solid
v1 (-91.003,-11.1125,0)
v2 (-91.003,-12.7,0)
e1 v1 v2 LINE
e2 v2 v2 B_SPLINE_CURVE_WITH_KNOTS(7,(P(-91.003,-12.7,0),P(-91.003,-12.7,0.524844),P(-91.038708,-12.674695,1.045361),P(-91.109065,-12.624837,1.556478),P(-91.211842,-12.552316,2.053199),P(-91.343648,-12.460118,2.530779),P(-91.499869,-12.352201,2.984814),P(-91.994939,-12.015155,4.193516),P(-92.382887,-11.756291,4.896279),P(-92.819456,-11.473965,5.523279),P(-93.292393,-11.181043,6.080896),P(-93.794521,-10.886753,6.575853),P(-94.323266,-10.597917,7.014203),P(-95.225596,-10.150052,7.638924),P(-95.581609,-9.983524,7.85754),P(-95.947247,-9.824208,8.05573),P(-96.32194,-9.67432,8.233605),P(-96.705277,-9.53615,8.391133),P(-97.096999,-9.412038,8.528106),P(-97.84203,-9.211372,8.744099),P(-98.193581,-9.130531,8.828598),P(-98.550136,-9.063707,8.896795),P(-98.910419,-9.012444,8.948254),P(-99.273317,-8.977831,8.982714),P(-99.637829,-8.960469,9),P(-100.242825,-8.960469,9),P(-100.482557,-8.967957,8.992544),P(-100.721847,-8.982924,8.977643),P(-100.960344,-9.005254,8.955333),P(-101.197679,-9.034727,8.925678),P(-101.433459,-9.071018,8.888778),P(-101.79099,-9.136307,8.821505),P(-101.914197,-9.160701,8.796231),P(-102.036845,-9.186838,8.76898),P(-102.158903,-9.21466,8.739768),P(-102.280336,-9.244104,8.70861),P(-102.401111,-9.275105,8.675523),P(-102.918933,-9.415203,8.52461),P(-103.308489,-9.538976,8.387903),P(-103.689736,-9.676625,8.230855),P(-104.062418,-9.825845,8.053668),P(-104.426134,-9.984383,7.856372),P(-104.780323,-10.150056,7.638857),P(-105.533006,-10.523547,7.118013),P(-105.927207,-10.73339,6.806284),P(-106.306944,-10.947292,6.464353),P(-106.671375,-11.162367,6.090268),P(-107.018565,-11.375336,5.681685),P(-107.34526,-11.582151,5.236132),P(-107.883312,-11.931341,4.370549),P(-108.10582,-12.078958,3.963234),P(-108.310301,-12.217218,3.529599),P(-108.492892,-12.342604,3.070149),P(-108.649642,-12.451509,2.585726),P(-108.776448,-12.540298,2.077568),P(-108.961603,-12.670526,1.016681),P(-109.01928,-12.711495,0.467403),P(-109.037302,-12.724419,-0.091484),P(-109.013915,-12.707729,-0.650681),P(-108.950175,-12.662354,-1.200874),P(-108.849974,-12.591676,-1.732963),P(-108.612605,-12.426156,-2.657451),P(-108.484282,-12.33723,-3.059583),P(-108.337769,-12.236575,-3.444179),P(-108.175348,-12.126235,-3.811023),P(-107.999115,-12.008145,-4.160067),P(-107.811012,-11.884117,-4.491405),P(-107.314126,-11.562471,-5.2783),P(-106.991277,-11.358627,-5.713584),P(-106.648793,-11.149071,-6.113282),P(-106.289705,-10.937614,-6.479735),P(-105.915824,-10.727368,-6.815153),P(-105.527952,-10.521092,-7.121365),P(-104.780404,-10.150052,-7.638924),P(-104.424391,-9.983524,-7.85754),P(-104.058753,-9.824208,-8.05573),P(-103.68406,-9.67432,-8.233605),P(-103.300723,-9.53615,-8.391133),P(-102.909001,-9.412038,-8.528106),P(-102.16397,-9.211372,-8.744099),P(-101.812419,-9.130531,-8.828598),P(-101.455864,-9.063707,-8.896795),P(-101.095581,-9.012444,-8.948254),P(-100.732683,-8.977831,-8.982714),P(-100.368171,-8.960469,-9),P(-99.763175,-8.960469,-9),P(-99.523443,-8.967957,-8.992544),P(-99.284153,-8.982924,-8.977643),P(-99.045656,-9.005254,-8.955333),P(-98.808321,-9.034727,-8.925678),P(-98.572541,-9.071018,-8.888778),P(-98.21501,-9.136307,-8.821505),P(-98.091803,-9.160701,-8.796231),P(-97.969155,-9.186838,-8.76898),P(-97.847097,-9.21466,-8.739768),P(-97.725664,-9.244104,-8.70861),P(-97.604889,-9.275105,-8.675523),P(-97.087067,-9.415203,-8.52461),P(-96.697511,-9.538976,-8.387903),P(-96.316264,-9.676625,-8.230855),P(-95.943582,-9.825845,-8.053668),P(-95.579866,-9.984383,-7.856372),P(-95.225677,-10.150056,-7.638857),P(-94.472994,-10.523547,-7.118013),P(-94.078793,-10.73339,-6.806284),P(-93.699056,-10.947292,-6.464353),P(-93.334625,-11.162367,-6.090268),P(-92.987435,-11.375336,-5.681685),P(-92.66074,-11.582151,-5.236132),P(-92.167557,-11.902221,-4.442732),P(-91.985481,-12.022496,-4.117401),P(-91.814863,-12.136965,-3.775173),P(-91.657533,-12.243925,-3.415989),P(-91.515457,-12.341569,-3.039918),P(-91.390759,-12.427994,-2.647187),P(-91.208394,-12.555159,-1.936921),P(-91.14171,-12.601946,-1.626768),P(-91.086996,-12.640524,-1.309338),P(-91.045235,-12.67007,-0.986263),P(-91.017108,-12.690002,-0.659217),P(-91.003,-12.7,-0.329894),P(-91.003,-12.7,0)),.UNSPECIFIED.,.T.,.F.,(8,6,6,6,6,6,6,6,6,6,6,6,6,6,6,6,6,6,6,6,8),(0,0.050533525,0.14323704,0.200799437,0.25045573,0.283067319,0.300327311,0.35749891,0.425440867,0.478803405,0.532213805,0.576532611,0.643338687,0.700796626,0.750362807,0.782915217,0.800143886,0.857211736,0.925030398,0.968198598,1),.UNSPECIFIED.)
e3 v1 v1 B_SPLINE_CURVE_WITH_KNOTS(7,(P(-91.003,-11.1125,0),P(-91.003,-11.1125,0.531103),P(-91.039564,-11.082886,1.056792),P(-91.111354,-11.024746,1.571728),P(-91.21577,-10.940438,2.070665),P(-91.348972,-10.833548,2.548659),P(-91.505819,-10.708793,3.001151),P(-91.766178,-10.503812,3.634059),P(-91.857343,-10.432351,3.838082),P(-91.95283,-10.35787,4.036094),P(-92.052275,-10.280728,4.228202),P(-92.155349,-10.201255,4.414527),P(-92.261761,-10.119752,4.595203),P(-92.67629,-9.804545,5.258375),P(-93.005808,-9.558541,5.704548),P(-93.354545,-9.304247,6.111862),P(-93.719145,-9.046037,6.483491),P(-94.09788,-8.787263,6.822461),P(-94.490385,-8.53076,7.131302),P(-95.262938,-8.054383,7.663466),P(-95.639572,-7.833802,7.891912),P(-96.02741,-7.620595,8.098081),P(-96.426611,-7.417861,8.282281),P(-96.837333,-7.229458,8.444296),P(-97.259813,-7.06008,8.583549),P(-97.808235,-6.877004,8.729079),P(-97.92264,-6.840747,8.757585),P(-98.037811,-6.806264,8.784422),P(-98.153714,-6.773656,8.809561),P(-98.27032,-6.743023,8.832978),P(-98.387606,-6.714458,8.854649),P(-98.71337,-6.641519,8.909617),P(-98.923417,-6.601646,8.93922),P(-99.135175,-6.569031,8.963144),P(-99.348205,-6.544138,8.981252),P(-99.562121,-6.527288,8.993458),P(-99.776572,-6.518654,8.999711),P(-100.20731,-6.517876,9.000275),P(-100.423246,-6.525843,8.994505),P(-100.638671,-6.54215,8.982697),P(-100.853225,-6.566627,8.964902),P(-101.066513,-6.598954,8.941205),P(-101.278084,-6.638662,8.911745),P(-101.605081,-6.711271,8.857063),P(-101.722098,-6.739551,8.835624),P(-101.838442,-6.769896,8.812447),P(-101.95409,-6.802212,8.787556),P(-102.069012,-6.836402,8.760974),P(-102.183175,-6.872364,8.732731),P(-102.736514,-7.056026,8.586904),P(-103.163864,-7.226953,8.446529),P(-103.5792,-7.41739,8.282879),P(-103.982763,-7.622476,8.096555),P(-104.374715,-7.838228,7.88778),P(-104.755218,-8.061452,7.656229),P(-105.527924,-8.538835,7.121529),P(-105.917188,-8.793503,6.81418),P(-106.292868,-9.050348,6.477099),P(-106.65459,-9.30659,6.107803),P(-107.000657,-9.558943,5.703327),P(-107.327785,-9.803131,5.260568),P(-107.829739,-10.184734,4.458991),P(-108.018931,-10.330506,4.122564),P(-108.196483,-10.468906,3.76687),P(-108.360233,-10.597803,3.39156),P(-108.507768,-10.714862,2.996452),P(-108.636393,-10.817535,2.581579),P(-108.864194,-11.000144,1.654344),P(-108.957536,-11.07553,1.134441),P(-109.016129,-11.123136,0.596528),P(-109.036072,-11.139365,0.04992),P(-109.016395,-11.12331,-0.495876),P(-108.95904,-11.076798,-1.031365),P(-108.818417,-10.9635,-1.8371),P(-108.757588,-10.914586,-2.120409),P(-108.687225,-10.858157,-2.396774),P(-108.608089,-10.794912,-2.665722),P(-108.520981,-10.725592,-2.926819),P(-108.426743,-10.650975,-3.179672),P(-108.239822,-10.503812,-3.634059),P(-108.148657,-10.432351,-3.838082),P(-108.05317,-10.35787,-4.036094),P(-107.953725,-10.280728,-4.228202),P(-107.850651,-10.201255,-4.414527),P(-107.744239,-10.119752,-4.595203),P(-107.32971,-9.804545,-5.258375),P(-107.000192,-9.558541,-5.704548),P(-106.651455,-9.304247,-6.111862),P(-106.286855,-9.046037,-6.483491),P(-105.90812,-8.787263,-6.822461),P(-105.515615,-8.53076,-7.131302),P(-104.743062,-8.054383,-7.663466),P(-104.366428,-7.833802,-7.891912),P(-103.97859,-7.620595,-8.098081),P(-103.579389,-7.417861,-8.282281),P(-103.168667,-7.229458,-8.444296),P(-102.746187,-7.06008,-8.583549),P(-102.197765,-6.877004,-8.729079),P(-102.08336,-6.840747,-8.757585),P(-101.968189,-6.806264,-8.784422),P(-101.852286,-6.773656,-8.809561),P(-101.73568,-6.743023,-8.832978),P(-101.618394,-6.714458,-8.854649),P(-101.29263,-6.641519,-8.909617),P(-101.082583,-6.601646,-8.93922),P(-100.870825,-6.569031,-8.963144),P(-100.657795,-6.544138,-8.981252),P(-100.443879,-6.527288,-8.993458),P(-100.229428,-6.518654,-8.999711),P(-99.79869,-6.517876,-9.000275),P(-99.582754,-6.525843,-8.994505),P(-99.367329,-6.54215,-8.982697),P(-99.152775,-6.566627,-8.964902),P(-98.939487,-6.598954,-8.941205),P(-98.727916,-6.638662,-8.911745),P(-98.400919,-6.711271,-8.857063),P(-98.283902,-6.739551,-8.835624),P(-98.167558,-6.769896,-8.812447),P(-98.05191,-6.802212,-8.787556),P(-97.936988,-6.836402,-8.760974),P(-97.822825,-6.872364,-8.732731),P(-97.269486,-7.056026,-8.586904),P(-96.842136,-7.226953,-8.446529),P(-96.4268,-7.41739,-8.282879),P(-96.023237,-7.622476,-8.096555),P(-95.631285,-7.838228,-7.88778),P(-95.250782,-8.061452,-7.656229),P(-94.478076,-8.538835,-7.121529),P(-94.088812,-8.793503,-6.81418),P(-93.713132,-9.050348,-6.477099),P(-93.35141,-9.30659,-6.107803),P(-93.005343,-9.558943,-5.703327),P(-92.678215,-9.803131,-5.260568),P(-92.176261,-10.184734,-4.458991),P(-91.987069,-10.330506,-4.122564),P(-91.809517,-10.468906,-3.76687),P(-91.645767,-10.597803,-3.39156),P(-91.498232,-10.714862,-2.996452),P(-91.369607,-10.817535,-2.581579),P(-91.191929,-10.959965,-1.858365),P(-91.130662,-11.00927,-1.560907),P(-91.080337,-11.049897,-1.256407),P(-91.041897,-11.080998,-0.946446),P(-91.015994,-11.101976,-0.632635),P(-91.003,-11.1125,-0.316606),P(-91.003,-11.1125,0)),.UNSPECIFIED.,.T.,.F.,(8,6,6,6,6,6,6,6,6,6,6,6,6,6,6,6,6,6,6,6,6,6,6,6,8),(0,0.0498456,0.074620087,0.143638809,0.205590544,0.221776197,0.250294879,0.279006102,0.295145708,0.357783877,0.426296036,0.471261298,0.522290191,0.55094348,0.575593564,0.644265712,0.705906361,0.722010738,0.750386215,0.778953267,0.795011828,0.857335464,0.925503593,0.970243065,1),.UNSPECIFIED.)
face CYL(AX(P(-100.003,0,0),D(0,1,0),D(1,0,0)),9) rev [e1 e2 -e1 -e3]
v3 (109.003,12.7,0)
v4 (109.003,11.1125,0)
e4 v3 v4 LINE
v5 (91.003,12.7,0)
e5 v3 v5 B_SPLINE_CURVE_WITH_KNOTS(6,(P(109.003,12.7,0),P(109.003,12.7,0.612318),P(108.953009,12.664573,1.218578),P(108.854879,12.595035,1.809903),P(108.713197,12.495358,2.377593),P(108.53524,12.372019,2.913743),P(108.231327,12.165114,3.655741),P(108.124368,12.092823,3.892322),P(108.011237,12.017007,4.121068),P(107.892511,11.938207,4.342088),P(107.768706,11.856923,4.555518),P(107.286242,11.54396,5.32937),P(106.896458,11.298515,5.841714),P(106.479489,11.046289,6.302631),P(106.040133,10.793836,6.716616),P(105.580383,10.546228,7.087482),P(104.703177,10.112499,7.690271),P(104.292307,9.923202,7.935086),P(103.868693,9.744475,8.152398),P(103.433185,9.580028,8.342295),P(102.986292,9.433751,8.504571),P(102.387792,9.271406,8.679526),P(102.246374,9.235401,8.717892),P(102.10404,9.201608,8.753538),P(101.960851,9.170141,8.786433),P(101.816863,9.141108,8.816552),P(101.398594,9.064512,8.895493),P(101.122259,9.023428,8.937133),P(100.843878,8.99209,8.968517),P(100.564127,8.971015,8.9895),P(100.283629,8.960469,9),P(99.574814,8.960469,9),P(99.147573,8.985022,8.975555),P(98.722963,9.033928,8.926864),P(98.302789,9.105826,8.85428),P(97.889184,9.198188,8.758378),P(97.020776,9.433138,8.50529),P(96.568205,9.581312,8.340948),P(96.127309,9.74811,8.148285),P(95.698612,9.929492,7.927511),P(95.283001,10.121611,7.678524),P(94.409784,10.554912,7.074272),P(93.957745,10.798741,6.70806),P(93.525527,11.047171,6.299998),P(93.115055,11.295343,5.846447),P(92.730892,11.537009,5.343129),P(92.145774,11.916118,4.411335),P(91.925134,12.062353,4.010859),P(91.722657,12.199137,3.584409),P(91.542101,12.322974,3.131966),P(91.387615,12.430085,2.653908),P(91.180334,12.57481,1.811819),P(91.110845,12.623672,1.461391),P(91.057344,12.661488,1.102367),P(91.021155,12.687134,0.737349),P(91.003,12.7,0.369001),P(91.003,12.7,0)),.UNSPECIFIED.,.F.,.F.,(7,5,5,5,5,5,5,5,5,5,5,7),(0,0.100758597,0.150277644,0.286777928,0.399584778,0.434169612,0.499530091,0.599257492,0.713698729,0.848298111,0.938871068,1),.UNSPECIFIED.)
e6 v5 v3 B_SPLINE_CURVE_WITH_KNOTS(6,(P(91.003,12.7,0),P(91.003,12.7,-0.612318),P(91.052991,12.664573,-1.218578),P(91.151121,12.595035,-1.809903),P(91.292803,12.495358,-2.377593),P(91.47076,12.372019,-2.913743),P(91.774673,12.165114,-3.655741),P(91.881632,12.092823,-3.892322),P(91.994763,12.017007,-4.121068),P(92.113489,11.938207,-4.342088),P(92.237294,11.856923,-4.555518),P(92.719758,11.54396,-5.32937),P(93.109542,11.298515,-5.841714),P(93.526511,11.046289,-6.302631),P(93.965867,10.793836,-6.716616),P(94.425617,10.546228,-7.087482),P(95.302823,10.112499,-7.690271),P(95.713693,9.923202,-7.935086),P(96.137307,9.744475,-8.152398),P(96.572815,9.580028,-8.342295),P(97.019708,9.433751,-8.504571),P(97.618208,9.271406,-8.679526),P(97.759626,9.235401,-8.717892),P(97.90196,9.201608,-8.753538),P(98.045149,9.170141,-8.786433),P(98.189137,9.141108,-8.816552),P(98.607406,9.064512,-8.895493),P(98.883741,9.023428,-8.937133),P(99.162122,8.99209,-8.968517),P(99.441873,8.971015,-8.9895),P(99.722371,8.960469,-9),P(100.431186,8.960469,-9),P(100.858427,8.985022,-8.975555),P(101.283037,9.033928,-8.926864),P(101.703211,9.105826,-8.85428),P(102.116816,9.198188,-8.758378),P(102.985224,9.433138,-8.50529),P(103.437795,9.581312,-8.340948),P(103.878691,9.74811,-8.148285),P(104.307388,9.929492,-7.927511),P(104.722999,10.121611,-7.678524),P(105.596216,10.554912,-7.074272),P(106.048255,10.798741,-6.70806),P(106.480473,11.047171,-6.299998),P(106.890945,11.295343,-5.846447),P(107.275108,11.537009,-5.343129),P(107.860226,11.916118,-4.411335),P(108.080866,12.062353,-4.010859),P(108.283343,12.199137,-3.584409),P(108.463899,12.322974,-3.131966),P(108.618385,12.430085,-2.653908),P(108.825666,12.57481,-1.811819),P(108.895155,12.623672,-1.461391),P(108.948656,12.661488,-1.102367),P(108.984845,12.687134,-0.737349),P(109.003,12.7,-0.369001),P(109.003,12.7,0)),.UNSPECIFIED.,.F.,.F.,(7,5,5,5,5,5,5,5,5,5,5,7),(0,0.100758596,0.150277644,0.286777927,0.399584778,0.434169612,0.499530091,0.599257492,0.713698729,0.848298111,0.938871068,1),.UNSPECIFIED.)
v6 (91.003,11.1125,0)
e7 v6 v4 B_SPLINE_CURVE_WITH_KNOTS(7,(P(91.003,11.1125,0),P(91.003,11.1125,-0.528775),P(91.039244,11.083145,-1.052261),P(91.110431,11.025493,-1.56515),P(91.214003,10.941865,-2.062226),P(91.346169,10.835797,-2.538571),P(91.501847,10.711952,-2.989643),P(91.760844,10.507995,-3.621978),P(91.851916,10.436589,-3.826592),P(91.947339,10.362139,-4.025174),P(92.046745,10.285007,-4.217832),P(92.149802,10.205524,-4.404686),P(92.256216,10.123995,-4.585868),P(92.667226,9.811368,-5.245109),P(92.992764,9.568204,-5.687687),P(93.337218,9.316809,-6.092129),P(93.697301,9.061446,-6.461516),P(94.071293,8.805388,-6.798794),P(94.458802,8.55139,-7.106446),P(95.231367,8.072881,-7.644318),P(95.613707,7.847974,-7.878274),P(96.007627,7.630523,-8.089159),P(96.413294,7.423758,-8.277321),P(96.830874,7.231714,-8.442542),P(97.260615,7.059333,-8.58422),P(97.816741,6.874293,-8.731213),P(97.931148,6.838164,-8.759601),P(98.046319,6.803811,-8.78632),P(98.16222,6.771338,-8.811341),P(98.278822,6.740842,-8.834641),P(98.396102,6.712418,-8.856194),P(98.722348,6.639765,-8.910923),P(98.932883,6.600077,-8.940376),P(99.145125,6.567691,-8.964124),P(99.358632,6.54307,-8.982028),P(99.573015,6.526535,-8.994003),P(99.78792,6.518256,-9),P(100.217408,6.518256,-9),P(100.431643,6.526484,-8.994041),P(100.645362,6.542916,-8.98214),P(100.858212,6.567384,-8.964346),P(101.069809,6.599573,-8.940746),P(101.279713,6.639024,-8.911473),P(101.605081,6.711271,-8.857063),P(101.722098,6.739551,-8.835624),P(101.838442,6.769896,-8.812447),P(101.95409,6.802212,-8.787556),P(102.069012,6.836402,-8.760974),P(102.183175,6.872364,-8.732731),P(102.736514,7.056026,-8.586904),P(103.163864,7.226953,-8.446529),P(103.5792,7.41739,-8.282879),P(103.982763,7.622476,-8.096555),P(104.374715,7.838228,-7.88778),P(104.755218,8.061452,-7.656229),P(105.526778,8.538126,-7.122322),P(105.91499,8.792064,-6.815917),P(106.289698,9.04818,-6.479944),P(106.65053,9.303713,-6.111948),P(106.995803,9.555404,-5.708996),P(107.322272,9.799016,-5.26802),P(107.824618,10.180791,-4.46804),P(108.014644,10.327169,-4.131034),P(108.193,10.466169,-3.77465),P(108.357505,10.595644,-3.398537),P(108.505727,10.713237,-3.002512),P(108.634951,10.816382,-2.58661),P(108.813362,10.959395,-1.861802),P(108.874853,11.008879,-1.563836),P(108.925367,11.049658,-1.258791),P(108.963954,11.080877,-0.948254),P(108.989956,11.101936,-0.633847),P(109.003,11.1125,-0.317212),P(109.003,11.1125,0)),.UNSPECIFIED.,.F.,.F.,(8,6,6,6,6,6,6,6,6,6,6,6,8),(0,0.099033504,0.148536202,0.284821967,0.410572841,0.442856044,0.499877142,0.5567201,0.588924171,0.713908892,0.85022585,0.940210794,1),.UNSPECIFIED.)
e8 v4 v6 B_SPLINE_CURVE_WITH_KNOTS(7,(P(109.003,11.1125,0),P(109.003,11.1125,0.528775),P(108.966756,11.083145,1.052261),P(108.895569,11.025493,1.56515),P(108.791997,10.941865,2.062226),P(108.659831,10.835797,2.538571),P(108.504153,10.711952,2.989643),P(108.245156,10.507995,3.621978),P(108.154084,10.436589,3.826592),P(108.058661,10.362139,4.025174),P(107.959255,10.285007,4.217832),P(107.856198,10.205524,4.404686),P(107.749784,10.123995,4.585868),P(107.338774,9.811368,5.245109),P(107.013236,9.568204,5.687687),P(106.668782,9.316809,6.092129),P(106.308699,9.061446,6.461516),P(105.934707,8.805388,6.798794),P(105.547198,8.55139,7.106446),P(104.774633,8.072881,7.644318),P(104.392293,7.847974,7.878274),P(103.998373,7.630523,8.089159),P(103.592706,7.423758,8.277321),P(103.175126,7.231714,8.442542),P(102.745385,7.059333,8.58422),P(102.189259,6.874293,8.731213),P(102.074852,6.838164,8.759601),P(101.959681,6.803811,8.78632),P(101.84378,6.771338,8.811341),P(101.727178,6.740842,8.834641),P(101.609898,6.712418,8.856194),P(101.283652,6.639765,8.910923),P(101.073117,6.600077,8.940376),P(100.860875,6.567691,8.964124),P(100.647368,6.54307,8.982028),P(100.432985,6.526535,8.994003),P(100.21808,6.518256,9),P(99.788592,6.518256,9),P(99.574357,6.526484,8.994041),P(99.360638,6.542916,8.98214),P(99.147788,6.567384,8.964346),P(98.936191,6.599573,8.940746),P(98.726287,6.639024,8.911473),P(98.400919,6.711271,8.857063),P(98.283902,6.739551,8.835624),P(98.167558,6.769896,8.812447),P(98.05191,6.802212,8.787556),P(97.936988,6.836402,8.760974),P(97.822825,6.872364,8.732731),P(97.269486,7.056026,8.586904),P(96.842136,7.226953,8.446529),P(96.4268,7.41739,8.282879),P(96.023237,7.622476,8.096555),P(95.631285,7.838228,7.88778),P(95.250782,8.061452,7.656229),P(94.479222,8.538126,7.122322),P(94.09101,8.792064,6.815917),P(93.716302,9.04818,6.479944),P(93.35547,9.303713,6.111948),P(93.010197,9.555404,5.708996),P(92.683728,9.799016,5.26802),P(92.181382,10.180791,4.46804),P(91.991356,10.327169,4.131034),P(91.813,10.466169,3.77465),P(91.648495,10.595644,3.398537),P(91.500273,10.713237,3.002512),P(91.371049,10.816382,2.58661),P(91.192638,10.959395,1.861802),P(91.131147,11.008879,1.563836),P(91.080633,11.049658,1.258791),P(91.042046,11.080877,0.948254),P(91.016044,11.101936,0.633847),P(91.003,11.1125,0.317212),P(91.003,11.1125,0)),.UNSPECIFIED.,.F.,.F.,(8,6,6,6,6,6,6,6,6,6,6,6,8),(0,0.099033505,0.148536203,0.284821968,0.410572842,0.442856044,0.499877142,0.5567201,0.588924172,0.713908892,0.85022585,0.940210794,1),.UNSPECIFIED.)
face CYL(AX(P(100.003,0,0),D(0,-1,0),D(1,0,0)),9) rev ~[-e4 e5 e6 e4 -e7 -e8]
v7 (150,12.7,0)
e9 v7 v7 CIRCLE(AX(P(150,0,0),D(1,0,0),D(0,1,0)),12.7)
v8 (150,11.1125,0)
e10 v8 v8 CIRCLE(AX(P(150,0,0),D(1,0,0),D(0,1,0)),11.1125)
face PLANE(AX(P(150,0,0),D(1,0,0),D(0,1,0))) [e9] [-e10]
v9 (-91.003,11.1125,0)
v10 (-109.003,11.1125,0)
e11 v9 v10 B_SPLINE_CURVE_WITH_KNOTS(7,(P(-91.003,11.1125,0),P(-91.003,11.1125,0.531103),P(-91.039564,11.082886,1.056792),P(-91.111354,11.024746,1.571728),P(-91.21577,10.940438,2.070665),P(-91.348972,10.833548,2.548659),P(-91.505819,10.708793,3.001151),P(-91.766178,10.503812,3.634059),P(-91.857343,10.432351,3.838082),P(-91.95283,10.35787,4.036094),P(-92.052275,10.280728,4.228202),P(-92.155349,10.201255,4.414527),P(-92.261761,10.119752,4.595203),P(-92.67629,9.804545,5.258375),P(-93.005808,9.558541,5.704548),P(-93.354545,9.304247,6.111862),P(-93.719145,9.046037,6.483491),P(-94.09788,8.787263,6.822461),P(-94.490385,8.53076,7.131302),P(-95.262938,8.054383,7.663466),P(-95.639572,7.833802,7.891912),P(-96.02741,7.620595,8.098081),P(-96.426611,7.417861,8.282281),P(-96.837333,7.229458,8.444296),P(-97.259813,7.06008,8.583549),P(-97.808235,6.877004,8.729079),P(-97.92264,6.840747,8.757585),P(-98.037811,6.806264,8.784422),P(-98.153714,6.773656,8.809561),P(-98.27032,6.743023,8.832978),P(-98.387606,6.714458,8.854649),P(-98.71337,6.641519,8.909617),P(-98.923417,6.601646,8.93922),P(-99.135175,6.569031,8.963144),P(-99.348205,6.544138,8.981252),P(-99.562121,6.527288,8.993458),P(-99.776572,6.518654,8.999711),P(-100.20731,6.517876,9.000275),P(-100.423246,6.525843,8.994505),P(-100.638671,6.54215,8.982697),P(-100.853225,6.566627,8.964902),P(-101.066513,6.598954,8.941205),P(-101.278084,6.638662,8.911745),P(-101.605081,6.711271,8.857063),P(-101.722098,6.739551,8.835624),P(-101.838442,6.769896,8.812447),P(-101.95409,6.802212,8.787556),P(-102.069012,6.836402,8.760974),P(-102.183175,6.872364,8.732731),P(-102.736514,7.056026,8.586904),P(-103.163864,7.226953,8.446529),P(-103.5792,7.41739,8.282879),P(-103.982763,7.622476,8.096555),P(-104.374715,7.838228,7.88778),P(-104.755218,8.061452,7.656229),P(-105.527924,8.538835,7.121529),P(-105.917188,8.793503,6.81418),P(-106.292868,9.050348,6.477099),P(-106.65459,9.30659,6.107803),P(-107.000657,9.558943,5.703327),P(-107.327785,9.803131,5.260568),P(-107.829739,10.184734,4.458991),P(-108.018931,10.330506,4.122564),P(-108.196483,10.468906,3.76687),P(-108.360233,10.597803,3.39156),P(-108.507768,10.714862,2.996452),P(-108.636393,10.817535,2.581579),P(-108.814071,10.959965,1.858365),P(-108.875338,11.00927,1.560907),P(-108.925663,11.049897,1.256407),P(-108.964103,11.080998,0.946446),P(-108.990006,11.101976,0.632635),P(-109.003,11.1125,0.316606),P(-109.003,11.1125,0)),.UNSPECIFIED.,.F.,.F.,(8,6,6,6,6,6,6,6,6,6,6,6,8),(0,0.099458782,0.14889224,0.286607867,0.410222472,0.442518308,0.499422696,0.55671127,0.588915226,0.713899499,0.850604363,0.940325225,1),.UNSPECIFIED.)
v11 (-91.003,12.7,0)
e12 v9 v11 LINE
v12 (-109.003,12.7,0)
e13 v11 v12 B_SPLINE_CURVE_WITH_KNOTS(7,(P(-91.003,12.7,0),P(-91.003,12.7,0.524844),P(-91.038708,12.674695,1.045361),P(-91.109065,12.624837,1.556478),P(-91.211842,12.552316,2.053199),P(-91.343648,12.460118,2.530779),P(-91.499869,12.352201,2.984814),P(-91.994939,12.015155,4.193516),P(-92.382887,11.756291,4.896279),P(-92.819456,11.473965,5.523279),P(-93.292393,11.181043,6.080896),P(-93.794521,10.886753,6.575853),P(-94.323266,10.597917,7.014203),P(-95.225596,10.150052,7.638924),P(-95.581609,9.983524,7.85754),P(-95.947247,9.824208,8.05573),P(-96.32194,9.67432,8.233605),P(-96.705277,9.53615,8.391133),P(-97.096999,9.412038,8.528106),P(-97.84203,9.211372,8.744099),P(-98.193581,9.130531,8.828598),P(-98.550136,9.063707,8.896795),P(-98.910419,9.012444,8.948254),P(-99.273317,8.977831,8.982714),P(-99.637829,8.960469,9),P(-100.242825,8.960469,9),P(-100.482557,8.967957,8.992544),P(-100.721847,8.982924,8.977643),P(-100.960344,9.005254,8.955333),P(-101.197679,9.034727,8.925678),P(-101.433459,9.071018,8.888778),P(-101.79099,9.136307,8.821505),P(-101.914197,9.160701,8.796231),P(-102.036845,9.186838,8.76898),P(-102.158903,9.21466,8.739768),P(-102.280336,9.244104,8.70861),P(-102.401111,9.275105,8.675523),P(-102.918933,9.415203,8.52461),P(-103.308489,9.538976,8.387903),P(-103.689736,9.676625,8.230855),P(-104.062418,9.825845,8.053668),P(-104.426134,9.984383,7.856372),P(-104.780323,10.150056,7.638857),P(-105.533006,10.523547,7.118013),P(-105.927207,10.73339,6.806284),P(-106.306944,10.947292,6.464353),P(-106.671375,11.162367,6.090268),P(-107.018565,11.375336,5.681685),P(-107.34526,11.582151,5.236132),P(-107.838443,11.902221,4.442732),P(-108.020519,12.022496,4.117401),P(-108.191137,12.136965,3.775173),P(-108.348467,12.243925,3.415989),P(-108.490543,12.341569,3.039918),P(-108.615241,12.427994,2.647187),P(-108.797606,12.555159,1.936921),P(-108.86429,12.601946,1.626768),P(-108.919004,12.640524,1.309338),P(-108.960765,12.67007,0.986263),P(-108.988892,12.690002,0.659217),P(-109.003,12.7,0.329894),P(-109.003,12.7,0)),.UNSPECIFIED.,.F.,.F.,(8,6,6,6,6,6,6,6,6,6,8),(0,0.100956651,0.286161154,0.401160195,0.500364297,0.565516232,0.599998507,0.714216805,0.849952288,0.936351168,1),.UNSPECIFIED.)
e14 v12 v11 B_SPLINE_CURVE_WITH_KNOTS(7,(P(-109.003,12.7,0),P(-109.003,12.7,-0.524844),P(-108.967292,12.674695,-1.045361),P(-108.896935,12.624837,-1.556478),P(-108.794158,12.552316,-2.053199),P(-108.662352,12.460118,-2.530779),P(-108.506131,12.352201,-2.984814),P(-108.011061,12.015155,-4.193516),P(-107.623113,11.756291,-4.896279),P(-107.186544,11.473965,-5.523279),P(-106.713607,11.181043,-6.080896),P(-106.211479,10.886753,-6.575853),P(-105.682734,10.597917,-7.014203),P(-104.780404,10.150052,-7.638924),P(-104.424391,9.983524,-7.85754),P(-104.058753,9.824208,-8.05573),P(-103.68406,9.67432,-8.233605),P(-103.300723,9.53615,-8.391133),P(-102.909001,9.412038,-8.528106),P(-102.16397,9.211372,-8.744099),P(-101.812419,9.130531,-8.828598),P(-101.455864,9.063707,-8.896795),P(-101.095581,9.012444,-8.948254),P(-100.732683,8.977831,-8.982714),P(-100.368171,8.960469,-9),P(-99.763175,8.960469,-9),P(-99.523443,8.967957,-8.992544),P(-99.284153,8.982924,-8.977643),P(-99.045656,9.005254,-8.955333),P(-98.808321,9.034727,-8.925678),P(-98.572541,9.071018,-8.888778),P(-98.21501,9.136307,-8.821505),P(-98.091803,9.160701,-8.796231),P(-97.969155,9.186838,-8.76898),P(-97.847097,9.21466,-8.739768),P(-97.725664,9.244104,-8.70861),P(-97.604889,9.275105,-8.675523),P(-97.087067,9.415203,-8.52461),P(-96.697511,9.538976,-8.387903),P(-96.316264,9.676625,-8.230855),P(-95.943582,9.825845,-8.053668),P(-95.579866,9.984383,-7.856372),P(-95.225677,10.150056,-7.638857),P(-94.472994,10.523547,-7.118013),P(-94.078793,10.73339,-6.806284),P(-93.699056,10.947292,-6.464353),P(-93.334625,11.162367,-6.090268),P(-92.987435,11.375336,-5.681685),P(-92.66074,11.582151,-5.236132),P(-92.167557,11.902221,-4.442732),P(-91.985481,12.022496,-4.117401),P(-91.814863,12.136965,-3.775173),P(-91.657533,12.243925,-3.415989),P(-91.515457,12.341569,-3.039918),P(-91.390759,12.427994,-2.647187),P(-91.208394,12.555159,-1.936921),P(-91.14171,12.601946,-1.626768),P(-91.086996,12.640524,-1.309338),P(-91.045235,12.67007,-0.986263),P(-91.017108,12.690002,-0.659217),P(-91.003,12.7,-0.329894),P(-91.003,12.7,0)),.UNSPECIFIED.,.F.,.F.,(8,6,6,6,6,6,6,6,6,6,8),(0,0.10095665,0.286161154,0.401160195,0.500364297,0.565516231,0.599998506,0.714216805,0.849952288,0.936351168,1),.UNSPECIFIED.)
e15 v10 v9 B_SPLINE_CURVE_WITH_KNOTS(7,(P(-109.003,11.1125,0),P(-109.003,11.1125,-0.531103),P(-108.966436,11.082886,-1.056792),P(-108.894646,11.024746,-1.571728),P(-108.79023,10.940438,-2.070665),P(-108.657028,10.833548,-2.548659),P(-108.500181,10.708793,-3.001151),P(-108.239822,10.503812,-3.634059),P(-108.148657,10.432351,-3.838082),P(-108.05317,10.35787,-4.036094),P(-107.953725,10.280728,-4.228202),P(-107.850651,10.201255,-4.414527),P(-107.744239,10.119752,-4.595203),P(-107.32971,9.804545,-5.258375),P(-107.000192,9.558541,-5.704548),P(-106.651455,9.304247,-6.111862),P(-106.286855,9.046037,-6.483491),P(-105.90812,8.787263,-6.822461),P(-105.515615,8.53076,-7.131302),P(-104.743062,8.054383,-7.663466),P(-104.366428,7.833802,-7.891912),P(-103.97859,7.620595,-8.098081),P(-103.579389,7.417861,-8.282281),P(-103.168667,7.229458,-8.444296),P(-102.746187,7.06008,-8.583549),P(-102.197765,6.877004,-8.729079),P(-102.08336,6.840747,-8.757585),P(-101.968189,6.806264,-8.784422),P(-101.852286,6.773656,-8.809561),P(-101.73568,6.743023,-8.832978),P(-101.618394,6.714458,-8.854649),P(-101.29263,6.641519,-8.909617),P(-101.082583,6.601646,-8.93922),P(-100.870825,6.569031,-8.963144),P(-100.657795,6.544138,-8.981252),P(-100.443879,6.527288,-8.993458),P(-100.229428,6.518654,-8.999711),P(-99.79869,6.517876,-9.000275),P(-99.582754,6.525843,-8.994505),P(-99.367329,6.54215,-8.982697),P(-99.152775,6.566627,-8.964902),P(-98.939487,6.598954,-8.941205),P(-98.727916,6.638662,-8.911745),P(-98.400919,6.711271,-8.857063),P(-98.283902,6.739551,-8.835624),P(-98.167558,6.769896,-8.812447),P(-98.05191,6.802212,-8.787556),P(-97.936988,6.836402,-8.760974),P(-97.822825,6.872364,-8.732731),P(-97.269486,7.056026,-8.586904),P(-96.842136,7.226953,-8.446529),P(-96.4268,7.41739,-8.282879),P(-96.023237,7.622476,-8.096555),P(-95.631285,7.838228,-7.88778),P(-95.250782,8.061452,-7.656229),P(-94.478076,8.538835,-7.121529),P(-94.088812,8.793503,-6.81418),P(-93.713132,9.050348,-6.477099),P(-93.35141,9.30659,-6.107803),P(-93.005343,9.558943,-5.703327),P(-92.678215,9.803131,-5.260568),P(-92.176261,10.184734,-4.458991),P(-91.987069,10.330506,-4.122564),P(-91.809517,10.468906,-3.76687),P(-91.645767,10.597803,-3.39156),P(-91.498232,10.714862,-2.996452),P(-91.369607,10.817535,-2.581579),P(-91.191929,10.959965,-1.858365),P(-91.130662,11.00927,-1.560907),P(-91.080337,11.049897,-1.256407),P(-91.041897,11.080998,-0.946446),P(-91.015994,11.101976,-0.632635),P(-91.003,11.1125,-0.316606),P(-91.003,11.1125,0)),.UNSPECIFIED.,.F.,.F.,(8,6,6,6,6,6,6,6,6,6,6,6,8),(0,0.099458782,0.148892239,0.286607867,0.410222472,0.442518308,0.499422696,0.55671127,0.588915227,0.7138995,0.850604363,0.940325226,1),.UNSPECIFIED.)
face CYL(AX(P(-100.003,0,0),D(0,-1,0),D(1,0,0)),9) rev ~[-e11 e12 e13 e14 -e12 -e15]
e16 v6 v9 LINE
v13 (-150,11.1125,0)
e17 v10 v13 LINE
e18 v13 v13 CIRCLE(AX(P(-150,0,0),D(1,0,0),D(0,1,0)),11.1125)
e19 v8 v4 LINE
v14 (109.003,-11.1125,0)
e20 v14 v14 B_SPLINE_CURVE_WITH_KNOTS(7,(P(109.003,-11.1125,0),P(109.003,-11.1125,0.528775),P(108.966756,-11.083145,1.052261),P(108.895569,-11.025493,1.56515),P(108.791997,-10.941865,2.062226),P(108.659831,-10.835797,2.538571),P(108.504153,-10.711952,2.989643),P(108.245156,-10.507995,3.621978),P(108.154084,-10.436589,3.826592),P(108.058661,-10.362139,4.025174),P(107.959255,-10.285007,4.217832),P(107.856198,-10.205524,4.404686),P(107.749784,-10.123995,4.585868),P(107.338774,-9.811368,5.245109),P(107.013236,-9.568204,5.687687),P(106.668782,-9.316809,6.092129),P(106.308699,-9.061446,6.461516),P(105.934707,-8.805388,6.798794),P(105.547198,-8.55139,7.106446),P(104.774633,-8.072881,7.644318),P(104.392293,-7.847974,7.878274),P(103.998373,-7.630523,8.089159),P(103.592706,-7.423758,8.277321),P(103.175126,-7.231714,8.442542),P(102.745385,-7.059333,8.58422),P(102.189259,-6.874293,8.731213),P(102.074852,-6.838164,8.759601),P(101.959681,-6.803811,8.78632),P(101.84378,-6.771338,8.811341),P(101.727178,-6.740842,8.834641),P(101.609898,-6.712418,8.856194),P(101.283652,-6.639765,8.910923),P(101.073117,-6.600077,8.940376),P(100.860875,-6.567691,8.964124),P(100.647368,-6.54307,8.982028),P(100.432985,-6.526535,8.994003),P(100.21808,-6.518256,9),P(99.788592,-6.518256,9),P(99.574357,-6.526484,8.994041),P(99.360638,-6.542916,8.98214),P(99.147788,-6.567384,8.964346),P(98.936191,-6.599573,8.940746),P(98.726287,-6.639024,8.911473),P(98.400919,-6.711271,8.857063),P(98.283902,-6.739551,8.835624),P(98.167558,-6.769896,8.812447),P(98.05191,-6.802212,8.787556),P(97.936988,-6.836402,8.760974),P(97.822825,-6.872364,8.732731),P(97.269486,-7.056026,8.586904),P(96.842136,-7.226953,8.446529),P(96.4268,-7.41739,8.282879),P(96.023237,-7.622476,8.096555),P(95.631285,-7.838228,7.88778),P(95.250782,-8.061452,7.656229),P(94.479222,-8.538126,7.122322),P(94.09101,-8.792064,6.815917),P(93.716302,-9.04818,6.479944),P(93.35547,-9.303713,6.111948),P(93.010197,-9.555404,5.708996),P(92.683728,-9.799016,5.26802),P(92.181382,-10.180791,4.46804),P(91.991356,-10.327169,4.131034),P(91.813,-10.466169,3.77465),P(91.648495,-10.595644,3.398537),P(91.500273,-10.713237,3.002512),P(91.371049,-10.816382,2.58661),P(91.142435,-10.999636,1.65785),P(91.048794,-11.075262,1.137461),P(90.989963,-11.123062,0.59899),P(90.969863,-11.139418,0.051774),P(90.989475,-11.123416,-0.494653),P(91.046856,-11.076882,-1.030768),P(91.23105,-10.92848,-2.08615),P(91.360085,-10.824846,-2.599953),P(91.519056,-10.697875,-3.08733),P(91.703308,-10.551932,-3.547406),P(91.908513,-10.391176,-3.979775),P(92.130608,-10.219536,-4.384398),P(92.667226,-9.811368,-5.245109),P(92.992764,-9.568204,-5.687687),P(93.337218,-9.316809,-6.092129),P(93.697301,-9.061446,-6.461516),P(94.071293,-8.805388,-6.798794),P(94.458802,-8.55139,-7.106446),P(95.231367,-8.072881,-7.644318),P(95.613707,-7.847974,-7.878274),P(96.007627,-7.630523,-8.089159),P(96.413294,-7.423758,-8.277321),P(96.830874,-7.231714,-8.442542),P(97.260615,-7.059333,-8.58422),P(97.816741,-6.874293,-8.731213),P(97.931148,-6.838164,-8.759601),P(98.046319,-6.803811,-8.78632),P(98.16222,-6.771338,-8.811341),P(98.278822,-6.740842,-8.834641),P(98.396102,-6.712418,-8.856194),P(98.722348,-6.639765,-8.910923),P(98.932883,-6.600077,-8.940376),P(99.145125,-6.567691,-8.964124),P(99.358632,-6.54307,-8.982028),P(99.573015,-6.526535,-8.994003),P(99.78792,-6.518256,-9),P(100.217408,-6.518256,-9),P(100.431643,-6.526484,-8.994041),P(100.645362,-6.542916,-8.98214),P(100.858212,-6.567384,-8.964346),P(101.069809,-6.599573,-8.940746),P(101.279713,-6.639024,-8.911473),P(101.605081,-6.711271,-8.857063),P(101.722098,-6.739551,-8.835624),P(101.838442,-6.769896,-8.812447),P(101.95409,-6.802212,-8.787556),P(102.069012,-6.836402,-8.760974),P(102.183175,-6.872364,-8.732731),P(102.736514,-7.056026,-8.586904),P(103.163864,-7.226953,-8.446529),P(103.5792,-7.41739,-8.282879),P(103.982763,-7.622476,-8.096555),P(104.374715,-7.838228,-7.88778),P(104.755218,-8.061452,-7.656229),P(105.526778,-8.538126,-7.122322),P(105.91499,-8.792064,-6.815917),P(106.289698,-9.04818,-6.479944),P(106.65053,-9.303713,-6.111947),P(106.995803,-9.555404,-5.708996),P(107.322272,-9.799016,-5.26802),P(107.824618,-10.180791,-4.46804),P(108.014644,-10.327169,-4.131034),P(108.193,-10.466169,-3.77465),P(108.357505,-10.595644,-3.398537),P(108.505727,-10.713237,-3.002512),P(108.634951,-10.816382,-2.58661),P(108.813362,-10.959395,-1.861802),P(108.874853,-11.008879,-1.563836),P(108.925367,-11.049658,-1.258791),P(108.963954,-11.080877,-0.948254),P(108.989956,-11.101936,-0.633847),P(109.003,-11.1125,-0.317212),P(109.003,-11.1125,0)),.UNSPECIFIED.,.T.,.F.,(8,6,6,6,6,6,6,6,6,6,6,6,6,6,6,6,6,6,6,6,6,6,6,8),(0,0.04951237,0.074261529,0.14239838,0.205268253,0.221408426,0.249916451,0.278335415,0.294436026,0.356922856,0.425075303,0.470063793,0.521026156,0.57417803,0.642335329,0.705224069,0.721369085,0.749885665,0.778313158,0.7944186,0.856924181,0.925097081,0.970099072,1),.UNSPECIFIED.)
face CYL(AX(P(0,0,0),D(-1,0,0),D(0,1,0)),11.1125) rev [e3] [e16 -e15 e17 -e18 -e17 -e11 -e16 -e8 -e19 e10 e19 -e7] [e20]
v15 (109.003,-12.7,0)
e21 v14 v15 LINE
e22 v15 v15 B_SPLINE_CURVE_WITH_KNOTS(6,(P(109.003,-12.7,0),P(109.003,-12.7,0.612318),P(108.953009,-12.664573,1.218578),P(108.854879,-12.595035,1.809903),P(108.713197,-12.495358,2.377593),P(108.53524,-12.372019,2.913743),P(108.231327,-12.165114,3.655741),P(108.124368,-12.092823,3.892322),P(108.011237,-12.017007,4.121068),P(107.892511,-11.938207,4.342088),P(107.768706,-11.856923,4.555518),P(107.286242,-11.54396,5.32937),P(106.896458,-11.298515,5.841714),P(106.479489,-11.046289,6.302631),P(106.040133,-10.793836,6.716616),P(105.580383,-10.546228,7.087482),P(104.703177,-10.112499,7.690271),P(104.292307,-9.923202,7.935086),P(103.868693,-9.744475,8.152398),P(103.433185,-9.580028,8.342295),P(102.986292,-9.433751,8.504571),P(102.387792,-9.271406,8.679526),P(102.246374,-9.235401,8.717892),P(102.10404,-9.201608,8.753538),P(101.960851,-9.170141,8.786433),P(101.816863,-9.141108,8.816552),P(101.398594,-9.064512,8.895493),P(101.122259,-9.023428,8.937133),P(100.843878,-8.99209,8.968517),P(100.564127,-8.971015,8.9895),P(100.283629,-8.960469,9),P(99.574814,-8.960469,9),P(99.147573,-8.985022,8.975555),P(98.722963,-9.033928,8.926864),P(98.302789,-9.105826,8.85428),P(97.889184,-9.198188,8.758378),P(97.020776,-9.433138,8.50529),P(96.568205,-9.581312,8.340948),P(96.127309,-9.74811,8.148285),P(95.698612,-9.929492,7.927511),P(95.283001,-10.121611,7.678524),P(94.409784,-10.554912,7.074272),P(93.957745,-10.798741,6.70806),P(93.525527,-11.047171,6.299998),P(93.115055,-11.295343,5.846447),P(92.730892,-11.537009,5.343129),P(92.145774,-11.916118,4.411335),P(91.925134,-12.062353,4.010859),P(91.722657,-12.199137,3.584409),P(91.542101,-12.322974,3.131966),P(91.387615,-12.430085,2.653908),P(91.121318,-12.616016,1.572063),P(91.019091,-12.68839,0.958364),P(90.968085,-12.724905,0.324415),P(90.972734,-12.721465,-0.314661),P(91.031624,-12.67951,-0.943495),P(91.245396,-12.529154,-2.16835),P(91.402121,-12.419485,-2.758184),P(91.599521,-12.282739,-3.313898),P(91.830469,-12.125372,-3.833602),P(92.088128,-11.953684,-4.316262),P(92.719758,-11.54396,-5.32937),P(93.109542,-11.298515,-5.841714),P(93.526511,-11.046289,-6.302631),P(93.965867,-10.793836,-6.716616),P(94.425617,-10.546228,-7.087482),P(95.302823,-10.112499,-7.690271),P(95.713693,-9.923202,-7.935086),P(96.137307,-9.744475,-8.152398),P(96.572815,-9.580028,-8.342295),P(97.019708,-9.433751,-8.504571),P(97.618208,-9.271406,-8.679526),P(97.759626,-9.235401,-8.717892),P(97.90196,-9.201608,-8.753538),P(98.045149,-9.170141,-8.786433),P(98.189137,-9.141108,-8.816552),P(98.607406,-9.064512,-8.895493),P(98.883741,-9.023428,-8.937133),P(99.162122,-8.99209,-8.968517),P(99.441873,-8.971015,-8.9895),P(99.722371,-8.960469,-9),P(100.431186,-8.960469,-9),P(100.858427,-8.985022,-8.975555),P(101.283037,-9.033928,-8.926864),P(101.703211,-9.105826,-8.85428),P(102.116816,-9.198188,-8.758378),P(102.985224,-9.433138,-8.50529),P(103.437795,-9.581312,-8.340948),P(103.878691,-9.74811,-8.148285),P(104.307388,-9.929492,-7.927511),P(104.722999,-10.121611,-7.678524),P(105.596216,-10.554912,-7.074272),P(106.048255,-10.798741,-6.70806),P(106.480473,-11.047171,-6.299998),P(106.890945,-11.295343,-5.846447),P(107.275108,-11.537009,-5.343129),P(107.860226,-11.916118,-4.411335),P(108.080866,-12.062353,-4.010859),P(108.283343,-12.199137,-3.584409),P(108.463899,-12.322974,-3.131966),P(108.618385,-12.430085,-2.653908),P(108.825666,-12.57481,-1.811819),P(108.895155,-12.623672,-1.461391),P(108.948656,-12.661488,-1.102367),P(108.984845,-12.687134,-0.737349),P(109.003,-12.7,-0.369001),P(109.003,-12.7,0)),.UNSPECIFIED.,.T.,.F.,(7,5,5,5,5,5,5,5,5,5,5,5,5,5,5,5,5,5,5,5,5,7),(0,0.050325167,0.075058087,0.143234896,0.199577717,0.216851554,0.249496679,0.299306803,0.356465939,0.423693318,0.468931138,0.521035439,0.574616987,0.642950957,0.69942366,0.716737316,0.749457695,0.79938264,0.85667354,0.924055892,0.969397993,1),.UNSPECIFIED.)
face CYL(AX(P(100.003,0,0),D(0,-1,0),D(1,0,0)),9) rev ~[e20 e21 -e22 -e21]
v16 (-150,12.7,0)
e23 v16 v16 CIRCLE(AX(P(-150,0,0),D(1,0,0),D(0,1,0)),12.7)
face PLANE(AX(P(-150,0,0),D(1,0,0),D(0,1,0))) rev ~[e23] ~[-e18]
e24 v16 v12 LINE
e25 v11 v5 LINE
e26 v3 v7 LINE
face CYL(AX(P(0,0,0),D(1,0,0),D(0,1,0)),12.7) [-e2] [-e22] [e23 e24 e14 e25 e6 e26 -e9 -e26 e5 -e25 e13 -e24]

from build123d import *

# Parameters (mm, degrees)
F0_R     = 12.7
F0_R_2   = 11.1125
F1_DEPTH = 150
F2_R     = 9
F3_DEPTH = 15


with BuildPart() as f1:
    # F0 (on Right) → F1 (new body, symmetric)
    with BuildSketch(Plane.YZ):
        Circle(F0_R)
        Circle(F0_R_2, mode=Mode.SUBTRACT)
    extrude(amount=F1_DEPTH, both=True)

    # F2 (on Front) → F3 (cut, symmetric)
    with BuildSketch(Plane.XZ):
        with Locations((-100.003, 0)):
            Circle(F2_R)
        with Locations((100.003, 0)):
            Circle(F2_R)
    extrude(amount=F3_DEPTH, both=True, mode=Mode.SUBTRACT)


solid = f1.part
